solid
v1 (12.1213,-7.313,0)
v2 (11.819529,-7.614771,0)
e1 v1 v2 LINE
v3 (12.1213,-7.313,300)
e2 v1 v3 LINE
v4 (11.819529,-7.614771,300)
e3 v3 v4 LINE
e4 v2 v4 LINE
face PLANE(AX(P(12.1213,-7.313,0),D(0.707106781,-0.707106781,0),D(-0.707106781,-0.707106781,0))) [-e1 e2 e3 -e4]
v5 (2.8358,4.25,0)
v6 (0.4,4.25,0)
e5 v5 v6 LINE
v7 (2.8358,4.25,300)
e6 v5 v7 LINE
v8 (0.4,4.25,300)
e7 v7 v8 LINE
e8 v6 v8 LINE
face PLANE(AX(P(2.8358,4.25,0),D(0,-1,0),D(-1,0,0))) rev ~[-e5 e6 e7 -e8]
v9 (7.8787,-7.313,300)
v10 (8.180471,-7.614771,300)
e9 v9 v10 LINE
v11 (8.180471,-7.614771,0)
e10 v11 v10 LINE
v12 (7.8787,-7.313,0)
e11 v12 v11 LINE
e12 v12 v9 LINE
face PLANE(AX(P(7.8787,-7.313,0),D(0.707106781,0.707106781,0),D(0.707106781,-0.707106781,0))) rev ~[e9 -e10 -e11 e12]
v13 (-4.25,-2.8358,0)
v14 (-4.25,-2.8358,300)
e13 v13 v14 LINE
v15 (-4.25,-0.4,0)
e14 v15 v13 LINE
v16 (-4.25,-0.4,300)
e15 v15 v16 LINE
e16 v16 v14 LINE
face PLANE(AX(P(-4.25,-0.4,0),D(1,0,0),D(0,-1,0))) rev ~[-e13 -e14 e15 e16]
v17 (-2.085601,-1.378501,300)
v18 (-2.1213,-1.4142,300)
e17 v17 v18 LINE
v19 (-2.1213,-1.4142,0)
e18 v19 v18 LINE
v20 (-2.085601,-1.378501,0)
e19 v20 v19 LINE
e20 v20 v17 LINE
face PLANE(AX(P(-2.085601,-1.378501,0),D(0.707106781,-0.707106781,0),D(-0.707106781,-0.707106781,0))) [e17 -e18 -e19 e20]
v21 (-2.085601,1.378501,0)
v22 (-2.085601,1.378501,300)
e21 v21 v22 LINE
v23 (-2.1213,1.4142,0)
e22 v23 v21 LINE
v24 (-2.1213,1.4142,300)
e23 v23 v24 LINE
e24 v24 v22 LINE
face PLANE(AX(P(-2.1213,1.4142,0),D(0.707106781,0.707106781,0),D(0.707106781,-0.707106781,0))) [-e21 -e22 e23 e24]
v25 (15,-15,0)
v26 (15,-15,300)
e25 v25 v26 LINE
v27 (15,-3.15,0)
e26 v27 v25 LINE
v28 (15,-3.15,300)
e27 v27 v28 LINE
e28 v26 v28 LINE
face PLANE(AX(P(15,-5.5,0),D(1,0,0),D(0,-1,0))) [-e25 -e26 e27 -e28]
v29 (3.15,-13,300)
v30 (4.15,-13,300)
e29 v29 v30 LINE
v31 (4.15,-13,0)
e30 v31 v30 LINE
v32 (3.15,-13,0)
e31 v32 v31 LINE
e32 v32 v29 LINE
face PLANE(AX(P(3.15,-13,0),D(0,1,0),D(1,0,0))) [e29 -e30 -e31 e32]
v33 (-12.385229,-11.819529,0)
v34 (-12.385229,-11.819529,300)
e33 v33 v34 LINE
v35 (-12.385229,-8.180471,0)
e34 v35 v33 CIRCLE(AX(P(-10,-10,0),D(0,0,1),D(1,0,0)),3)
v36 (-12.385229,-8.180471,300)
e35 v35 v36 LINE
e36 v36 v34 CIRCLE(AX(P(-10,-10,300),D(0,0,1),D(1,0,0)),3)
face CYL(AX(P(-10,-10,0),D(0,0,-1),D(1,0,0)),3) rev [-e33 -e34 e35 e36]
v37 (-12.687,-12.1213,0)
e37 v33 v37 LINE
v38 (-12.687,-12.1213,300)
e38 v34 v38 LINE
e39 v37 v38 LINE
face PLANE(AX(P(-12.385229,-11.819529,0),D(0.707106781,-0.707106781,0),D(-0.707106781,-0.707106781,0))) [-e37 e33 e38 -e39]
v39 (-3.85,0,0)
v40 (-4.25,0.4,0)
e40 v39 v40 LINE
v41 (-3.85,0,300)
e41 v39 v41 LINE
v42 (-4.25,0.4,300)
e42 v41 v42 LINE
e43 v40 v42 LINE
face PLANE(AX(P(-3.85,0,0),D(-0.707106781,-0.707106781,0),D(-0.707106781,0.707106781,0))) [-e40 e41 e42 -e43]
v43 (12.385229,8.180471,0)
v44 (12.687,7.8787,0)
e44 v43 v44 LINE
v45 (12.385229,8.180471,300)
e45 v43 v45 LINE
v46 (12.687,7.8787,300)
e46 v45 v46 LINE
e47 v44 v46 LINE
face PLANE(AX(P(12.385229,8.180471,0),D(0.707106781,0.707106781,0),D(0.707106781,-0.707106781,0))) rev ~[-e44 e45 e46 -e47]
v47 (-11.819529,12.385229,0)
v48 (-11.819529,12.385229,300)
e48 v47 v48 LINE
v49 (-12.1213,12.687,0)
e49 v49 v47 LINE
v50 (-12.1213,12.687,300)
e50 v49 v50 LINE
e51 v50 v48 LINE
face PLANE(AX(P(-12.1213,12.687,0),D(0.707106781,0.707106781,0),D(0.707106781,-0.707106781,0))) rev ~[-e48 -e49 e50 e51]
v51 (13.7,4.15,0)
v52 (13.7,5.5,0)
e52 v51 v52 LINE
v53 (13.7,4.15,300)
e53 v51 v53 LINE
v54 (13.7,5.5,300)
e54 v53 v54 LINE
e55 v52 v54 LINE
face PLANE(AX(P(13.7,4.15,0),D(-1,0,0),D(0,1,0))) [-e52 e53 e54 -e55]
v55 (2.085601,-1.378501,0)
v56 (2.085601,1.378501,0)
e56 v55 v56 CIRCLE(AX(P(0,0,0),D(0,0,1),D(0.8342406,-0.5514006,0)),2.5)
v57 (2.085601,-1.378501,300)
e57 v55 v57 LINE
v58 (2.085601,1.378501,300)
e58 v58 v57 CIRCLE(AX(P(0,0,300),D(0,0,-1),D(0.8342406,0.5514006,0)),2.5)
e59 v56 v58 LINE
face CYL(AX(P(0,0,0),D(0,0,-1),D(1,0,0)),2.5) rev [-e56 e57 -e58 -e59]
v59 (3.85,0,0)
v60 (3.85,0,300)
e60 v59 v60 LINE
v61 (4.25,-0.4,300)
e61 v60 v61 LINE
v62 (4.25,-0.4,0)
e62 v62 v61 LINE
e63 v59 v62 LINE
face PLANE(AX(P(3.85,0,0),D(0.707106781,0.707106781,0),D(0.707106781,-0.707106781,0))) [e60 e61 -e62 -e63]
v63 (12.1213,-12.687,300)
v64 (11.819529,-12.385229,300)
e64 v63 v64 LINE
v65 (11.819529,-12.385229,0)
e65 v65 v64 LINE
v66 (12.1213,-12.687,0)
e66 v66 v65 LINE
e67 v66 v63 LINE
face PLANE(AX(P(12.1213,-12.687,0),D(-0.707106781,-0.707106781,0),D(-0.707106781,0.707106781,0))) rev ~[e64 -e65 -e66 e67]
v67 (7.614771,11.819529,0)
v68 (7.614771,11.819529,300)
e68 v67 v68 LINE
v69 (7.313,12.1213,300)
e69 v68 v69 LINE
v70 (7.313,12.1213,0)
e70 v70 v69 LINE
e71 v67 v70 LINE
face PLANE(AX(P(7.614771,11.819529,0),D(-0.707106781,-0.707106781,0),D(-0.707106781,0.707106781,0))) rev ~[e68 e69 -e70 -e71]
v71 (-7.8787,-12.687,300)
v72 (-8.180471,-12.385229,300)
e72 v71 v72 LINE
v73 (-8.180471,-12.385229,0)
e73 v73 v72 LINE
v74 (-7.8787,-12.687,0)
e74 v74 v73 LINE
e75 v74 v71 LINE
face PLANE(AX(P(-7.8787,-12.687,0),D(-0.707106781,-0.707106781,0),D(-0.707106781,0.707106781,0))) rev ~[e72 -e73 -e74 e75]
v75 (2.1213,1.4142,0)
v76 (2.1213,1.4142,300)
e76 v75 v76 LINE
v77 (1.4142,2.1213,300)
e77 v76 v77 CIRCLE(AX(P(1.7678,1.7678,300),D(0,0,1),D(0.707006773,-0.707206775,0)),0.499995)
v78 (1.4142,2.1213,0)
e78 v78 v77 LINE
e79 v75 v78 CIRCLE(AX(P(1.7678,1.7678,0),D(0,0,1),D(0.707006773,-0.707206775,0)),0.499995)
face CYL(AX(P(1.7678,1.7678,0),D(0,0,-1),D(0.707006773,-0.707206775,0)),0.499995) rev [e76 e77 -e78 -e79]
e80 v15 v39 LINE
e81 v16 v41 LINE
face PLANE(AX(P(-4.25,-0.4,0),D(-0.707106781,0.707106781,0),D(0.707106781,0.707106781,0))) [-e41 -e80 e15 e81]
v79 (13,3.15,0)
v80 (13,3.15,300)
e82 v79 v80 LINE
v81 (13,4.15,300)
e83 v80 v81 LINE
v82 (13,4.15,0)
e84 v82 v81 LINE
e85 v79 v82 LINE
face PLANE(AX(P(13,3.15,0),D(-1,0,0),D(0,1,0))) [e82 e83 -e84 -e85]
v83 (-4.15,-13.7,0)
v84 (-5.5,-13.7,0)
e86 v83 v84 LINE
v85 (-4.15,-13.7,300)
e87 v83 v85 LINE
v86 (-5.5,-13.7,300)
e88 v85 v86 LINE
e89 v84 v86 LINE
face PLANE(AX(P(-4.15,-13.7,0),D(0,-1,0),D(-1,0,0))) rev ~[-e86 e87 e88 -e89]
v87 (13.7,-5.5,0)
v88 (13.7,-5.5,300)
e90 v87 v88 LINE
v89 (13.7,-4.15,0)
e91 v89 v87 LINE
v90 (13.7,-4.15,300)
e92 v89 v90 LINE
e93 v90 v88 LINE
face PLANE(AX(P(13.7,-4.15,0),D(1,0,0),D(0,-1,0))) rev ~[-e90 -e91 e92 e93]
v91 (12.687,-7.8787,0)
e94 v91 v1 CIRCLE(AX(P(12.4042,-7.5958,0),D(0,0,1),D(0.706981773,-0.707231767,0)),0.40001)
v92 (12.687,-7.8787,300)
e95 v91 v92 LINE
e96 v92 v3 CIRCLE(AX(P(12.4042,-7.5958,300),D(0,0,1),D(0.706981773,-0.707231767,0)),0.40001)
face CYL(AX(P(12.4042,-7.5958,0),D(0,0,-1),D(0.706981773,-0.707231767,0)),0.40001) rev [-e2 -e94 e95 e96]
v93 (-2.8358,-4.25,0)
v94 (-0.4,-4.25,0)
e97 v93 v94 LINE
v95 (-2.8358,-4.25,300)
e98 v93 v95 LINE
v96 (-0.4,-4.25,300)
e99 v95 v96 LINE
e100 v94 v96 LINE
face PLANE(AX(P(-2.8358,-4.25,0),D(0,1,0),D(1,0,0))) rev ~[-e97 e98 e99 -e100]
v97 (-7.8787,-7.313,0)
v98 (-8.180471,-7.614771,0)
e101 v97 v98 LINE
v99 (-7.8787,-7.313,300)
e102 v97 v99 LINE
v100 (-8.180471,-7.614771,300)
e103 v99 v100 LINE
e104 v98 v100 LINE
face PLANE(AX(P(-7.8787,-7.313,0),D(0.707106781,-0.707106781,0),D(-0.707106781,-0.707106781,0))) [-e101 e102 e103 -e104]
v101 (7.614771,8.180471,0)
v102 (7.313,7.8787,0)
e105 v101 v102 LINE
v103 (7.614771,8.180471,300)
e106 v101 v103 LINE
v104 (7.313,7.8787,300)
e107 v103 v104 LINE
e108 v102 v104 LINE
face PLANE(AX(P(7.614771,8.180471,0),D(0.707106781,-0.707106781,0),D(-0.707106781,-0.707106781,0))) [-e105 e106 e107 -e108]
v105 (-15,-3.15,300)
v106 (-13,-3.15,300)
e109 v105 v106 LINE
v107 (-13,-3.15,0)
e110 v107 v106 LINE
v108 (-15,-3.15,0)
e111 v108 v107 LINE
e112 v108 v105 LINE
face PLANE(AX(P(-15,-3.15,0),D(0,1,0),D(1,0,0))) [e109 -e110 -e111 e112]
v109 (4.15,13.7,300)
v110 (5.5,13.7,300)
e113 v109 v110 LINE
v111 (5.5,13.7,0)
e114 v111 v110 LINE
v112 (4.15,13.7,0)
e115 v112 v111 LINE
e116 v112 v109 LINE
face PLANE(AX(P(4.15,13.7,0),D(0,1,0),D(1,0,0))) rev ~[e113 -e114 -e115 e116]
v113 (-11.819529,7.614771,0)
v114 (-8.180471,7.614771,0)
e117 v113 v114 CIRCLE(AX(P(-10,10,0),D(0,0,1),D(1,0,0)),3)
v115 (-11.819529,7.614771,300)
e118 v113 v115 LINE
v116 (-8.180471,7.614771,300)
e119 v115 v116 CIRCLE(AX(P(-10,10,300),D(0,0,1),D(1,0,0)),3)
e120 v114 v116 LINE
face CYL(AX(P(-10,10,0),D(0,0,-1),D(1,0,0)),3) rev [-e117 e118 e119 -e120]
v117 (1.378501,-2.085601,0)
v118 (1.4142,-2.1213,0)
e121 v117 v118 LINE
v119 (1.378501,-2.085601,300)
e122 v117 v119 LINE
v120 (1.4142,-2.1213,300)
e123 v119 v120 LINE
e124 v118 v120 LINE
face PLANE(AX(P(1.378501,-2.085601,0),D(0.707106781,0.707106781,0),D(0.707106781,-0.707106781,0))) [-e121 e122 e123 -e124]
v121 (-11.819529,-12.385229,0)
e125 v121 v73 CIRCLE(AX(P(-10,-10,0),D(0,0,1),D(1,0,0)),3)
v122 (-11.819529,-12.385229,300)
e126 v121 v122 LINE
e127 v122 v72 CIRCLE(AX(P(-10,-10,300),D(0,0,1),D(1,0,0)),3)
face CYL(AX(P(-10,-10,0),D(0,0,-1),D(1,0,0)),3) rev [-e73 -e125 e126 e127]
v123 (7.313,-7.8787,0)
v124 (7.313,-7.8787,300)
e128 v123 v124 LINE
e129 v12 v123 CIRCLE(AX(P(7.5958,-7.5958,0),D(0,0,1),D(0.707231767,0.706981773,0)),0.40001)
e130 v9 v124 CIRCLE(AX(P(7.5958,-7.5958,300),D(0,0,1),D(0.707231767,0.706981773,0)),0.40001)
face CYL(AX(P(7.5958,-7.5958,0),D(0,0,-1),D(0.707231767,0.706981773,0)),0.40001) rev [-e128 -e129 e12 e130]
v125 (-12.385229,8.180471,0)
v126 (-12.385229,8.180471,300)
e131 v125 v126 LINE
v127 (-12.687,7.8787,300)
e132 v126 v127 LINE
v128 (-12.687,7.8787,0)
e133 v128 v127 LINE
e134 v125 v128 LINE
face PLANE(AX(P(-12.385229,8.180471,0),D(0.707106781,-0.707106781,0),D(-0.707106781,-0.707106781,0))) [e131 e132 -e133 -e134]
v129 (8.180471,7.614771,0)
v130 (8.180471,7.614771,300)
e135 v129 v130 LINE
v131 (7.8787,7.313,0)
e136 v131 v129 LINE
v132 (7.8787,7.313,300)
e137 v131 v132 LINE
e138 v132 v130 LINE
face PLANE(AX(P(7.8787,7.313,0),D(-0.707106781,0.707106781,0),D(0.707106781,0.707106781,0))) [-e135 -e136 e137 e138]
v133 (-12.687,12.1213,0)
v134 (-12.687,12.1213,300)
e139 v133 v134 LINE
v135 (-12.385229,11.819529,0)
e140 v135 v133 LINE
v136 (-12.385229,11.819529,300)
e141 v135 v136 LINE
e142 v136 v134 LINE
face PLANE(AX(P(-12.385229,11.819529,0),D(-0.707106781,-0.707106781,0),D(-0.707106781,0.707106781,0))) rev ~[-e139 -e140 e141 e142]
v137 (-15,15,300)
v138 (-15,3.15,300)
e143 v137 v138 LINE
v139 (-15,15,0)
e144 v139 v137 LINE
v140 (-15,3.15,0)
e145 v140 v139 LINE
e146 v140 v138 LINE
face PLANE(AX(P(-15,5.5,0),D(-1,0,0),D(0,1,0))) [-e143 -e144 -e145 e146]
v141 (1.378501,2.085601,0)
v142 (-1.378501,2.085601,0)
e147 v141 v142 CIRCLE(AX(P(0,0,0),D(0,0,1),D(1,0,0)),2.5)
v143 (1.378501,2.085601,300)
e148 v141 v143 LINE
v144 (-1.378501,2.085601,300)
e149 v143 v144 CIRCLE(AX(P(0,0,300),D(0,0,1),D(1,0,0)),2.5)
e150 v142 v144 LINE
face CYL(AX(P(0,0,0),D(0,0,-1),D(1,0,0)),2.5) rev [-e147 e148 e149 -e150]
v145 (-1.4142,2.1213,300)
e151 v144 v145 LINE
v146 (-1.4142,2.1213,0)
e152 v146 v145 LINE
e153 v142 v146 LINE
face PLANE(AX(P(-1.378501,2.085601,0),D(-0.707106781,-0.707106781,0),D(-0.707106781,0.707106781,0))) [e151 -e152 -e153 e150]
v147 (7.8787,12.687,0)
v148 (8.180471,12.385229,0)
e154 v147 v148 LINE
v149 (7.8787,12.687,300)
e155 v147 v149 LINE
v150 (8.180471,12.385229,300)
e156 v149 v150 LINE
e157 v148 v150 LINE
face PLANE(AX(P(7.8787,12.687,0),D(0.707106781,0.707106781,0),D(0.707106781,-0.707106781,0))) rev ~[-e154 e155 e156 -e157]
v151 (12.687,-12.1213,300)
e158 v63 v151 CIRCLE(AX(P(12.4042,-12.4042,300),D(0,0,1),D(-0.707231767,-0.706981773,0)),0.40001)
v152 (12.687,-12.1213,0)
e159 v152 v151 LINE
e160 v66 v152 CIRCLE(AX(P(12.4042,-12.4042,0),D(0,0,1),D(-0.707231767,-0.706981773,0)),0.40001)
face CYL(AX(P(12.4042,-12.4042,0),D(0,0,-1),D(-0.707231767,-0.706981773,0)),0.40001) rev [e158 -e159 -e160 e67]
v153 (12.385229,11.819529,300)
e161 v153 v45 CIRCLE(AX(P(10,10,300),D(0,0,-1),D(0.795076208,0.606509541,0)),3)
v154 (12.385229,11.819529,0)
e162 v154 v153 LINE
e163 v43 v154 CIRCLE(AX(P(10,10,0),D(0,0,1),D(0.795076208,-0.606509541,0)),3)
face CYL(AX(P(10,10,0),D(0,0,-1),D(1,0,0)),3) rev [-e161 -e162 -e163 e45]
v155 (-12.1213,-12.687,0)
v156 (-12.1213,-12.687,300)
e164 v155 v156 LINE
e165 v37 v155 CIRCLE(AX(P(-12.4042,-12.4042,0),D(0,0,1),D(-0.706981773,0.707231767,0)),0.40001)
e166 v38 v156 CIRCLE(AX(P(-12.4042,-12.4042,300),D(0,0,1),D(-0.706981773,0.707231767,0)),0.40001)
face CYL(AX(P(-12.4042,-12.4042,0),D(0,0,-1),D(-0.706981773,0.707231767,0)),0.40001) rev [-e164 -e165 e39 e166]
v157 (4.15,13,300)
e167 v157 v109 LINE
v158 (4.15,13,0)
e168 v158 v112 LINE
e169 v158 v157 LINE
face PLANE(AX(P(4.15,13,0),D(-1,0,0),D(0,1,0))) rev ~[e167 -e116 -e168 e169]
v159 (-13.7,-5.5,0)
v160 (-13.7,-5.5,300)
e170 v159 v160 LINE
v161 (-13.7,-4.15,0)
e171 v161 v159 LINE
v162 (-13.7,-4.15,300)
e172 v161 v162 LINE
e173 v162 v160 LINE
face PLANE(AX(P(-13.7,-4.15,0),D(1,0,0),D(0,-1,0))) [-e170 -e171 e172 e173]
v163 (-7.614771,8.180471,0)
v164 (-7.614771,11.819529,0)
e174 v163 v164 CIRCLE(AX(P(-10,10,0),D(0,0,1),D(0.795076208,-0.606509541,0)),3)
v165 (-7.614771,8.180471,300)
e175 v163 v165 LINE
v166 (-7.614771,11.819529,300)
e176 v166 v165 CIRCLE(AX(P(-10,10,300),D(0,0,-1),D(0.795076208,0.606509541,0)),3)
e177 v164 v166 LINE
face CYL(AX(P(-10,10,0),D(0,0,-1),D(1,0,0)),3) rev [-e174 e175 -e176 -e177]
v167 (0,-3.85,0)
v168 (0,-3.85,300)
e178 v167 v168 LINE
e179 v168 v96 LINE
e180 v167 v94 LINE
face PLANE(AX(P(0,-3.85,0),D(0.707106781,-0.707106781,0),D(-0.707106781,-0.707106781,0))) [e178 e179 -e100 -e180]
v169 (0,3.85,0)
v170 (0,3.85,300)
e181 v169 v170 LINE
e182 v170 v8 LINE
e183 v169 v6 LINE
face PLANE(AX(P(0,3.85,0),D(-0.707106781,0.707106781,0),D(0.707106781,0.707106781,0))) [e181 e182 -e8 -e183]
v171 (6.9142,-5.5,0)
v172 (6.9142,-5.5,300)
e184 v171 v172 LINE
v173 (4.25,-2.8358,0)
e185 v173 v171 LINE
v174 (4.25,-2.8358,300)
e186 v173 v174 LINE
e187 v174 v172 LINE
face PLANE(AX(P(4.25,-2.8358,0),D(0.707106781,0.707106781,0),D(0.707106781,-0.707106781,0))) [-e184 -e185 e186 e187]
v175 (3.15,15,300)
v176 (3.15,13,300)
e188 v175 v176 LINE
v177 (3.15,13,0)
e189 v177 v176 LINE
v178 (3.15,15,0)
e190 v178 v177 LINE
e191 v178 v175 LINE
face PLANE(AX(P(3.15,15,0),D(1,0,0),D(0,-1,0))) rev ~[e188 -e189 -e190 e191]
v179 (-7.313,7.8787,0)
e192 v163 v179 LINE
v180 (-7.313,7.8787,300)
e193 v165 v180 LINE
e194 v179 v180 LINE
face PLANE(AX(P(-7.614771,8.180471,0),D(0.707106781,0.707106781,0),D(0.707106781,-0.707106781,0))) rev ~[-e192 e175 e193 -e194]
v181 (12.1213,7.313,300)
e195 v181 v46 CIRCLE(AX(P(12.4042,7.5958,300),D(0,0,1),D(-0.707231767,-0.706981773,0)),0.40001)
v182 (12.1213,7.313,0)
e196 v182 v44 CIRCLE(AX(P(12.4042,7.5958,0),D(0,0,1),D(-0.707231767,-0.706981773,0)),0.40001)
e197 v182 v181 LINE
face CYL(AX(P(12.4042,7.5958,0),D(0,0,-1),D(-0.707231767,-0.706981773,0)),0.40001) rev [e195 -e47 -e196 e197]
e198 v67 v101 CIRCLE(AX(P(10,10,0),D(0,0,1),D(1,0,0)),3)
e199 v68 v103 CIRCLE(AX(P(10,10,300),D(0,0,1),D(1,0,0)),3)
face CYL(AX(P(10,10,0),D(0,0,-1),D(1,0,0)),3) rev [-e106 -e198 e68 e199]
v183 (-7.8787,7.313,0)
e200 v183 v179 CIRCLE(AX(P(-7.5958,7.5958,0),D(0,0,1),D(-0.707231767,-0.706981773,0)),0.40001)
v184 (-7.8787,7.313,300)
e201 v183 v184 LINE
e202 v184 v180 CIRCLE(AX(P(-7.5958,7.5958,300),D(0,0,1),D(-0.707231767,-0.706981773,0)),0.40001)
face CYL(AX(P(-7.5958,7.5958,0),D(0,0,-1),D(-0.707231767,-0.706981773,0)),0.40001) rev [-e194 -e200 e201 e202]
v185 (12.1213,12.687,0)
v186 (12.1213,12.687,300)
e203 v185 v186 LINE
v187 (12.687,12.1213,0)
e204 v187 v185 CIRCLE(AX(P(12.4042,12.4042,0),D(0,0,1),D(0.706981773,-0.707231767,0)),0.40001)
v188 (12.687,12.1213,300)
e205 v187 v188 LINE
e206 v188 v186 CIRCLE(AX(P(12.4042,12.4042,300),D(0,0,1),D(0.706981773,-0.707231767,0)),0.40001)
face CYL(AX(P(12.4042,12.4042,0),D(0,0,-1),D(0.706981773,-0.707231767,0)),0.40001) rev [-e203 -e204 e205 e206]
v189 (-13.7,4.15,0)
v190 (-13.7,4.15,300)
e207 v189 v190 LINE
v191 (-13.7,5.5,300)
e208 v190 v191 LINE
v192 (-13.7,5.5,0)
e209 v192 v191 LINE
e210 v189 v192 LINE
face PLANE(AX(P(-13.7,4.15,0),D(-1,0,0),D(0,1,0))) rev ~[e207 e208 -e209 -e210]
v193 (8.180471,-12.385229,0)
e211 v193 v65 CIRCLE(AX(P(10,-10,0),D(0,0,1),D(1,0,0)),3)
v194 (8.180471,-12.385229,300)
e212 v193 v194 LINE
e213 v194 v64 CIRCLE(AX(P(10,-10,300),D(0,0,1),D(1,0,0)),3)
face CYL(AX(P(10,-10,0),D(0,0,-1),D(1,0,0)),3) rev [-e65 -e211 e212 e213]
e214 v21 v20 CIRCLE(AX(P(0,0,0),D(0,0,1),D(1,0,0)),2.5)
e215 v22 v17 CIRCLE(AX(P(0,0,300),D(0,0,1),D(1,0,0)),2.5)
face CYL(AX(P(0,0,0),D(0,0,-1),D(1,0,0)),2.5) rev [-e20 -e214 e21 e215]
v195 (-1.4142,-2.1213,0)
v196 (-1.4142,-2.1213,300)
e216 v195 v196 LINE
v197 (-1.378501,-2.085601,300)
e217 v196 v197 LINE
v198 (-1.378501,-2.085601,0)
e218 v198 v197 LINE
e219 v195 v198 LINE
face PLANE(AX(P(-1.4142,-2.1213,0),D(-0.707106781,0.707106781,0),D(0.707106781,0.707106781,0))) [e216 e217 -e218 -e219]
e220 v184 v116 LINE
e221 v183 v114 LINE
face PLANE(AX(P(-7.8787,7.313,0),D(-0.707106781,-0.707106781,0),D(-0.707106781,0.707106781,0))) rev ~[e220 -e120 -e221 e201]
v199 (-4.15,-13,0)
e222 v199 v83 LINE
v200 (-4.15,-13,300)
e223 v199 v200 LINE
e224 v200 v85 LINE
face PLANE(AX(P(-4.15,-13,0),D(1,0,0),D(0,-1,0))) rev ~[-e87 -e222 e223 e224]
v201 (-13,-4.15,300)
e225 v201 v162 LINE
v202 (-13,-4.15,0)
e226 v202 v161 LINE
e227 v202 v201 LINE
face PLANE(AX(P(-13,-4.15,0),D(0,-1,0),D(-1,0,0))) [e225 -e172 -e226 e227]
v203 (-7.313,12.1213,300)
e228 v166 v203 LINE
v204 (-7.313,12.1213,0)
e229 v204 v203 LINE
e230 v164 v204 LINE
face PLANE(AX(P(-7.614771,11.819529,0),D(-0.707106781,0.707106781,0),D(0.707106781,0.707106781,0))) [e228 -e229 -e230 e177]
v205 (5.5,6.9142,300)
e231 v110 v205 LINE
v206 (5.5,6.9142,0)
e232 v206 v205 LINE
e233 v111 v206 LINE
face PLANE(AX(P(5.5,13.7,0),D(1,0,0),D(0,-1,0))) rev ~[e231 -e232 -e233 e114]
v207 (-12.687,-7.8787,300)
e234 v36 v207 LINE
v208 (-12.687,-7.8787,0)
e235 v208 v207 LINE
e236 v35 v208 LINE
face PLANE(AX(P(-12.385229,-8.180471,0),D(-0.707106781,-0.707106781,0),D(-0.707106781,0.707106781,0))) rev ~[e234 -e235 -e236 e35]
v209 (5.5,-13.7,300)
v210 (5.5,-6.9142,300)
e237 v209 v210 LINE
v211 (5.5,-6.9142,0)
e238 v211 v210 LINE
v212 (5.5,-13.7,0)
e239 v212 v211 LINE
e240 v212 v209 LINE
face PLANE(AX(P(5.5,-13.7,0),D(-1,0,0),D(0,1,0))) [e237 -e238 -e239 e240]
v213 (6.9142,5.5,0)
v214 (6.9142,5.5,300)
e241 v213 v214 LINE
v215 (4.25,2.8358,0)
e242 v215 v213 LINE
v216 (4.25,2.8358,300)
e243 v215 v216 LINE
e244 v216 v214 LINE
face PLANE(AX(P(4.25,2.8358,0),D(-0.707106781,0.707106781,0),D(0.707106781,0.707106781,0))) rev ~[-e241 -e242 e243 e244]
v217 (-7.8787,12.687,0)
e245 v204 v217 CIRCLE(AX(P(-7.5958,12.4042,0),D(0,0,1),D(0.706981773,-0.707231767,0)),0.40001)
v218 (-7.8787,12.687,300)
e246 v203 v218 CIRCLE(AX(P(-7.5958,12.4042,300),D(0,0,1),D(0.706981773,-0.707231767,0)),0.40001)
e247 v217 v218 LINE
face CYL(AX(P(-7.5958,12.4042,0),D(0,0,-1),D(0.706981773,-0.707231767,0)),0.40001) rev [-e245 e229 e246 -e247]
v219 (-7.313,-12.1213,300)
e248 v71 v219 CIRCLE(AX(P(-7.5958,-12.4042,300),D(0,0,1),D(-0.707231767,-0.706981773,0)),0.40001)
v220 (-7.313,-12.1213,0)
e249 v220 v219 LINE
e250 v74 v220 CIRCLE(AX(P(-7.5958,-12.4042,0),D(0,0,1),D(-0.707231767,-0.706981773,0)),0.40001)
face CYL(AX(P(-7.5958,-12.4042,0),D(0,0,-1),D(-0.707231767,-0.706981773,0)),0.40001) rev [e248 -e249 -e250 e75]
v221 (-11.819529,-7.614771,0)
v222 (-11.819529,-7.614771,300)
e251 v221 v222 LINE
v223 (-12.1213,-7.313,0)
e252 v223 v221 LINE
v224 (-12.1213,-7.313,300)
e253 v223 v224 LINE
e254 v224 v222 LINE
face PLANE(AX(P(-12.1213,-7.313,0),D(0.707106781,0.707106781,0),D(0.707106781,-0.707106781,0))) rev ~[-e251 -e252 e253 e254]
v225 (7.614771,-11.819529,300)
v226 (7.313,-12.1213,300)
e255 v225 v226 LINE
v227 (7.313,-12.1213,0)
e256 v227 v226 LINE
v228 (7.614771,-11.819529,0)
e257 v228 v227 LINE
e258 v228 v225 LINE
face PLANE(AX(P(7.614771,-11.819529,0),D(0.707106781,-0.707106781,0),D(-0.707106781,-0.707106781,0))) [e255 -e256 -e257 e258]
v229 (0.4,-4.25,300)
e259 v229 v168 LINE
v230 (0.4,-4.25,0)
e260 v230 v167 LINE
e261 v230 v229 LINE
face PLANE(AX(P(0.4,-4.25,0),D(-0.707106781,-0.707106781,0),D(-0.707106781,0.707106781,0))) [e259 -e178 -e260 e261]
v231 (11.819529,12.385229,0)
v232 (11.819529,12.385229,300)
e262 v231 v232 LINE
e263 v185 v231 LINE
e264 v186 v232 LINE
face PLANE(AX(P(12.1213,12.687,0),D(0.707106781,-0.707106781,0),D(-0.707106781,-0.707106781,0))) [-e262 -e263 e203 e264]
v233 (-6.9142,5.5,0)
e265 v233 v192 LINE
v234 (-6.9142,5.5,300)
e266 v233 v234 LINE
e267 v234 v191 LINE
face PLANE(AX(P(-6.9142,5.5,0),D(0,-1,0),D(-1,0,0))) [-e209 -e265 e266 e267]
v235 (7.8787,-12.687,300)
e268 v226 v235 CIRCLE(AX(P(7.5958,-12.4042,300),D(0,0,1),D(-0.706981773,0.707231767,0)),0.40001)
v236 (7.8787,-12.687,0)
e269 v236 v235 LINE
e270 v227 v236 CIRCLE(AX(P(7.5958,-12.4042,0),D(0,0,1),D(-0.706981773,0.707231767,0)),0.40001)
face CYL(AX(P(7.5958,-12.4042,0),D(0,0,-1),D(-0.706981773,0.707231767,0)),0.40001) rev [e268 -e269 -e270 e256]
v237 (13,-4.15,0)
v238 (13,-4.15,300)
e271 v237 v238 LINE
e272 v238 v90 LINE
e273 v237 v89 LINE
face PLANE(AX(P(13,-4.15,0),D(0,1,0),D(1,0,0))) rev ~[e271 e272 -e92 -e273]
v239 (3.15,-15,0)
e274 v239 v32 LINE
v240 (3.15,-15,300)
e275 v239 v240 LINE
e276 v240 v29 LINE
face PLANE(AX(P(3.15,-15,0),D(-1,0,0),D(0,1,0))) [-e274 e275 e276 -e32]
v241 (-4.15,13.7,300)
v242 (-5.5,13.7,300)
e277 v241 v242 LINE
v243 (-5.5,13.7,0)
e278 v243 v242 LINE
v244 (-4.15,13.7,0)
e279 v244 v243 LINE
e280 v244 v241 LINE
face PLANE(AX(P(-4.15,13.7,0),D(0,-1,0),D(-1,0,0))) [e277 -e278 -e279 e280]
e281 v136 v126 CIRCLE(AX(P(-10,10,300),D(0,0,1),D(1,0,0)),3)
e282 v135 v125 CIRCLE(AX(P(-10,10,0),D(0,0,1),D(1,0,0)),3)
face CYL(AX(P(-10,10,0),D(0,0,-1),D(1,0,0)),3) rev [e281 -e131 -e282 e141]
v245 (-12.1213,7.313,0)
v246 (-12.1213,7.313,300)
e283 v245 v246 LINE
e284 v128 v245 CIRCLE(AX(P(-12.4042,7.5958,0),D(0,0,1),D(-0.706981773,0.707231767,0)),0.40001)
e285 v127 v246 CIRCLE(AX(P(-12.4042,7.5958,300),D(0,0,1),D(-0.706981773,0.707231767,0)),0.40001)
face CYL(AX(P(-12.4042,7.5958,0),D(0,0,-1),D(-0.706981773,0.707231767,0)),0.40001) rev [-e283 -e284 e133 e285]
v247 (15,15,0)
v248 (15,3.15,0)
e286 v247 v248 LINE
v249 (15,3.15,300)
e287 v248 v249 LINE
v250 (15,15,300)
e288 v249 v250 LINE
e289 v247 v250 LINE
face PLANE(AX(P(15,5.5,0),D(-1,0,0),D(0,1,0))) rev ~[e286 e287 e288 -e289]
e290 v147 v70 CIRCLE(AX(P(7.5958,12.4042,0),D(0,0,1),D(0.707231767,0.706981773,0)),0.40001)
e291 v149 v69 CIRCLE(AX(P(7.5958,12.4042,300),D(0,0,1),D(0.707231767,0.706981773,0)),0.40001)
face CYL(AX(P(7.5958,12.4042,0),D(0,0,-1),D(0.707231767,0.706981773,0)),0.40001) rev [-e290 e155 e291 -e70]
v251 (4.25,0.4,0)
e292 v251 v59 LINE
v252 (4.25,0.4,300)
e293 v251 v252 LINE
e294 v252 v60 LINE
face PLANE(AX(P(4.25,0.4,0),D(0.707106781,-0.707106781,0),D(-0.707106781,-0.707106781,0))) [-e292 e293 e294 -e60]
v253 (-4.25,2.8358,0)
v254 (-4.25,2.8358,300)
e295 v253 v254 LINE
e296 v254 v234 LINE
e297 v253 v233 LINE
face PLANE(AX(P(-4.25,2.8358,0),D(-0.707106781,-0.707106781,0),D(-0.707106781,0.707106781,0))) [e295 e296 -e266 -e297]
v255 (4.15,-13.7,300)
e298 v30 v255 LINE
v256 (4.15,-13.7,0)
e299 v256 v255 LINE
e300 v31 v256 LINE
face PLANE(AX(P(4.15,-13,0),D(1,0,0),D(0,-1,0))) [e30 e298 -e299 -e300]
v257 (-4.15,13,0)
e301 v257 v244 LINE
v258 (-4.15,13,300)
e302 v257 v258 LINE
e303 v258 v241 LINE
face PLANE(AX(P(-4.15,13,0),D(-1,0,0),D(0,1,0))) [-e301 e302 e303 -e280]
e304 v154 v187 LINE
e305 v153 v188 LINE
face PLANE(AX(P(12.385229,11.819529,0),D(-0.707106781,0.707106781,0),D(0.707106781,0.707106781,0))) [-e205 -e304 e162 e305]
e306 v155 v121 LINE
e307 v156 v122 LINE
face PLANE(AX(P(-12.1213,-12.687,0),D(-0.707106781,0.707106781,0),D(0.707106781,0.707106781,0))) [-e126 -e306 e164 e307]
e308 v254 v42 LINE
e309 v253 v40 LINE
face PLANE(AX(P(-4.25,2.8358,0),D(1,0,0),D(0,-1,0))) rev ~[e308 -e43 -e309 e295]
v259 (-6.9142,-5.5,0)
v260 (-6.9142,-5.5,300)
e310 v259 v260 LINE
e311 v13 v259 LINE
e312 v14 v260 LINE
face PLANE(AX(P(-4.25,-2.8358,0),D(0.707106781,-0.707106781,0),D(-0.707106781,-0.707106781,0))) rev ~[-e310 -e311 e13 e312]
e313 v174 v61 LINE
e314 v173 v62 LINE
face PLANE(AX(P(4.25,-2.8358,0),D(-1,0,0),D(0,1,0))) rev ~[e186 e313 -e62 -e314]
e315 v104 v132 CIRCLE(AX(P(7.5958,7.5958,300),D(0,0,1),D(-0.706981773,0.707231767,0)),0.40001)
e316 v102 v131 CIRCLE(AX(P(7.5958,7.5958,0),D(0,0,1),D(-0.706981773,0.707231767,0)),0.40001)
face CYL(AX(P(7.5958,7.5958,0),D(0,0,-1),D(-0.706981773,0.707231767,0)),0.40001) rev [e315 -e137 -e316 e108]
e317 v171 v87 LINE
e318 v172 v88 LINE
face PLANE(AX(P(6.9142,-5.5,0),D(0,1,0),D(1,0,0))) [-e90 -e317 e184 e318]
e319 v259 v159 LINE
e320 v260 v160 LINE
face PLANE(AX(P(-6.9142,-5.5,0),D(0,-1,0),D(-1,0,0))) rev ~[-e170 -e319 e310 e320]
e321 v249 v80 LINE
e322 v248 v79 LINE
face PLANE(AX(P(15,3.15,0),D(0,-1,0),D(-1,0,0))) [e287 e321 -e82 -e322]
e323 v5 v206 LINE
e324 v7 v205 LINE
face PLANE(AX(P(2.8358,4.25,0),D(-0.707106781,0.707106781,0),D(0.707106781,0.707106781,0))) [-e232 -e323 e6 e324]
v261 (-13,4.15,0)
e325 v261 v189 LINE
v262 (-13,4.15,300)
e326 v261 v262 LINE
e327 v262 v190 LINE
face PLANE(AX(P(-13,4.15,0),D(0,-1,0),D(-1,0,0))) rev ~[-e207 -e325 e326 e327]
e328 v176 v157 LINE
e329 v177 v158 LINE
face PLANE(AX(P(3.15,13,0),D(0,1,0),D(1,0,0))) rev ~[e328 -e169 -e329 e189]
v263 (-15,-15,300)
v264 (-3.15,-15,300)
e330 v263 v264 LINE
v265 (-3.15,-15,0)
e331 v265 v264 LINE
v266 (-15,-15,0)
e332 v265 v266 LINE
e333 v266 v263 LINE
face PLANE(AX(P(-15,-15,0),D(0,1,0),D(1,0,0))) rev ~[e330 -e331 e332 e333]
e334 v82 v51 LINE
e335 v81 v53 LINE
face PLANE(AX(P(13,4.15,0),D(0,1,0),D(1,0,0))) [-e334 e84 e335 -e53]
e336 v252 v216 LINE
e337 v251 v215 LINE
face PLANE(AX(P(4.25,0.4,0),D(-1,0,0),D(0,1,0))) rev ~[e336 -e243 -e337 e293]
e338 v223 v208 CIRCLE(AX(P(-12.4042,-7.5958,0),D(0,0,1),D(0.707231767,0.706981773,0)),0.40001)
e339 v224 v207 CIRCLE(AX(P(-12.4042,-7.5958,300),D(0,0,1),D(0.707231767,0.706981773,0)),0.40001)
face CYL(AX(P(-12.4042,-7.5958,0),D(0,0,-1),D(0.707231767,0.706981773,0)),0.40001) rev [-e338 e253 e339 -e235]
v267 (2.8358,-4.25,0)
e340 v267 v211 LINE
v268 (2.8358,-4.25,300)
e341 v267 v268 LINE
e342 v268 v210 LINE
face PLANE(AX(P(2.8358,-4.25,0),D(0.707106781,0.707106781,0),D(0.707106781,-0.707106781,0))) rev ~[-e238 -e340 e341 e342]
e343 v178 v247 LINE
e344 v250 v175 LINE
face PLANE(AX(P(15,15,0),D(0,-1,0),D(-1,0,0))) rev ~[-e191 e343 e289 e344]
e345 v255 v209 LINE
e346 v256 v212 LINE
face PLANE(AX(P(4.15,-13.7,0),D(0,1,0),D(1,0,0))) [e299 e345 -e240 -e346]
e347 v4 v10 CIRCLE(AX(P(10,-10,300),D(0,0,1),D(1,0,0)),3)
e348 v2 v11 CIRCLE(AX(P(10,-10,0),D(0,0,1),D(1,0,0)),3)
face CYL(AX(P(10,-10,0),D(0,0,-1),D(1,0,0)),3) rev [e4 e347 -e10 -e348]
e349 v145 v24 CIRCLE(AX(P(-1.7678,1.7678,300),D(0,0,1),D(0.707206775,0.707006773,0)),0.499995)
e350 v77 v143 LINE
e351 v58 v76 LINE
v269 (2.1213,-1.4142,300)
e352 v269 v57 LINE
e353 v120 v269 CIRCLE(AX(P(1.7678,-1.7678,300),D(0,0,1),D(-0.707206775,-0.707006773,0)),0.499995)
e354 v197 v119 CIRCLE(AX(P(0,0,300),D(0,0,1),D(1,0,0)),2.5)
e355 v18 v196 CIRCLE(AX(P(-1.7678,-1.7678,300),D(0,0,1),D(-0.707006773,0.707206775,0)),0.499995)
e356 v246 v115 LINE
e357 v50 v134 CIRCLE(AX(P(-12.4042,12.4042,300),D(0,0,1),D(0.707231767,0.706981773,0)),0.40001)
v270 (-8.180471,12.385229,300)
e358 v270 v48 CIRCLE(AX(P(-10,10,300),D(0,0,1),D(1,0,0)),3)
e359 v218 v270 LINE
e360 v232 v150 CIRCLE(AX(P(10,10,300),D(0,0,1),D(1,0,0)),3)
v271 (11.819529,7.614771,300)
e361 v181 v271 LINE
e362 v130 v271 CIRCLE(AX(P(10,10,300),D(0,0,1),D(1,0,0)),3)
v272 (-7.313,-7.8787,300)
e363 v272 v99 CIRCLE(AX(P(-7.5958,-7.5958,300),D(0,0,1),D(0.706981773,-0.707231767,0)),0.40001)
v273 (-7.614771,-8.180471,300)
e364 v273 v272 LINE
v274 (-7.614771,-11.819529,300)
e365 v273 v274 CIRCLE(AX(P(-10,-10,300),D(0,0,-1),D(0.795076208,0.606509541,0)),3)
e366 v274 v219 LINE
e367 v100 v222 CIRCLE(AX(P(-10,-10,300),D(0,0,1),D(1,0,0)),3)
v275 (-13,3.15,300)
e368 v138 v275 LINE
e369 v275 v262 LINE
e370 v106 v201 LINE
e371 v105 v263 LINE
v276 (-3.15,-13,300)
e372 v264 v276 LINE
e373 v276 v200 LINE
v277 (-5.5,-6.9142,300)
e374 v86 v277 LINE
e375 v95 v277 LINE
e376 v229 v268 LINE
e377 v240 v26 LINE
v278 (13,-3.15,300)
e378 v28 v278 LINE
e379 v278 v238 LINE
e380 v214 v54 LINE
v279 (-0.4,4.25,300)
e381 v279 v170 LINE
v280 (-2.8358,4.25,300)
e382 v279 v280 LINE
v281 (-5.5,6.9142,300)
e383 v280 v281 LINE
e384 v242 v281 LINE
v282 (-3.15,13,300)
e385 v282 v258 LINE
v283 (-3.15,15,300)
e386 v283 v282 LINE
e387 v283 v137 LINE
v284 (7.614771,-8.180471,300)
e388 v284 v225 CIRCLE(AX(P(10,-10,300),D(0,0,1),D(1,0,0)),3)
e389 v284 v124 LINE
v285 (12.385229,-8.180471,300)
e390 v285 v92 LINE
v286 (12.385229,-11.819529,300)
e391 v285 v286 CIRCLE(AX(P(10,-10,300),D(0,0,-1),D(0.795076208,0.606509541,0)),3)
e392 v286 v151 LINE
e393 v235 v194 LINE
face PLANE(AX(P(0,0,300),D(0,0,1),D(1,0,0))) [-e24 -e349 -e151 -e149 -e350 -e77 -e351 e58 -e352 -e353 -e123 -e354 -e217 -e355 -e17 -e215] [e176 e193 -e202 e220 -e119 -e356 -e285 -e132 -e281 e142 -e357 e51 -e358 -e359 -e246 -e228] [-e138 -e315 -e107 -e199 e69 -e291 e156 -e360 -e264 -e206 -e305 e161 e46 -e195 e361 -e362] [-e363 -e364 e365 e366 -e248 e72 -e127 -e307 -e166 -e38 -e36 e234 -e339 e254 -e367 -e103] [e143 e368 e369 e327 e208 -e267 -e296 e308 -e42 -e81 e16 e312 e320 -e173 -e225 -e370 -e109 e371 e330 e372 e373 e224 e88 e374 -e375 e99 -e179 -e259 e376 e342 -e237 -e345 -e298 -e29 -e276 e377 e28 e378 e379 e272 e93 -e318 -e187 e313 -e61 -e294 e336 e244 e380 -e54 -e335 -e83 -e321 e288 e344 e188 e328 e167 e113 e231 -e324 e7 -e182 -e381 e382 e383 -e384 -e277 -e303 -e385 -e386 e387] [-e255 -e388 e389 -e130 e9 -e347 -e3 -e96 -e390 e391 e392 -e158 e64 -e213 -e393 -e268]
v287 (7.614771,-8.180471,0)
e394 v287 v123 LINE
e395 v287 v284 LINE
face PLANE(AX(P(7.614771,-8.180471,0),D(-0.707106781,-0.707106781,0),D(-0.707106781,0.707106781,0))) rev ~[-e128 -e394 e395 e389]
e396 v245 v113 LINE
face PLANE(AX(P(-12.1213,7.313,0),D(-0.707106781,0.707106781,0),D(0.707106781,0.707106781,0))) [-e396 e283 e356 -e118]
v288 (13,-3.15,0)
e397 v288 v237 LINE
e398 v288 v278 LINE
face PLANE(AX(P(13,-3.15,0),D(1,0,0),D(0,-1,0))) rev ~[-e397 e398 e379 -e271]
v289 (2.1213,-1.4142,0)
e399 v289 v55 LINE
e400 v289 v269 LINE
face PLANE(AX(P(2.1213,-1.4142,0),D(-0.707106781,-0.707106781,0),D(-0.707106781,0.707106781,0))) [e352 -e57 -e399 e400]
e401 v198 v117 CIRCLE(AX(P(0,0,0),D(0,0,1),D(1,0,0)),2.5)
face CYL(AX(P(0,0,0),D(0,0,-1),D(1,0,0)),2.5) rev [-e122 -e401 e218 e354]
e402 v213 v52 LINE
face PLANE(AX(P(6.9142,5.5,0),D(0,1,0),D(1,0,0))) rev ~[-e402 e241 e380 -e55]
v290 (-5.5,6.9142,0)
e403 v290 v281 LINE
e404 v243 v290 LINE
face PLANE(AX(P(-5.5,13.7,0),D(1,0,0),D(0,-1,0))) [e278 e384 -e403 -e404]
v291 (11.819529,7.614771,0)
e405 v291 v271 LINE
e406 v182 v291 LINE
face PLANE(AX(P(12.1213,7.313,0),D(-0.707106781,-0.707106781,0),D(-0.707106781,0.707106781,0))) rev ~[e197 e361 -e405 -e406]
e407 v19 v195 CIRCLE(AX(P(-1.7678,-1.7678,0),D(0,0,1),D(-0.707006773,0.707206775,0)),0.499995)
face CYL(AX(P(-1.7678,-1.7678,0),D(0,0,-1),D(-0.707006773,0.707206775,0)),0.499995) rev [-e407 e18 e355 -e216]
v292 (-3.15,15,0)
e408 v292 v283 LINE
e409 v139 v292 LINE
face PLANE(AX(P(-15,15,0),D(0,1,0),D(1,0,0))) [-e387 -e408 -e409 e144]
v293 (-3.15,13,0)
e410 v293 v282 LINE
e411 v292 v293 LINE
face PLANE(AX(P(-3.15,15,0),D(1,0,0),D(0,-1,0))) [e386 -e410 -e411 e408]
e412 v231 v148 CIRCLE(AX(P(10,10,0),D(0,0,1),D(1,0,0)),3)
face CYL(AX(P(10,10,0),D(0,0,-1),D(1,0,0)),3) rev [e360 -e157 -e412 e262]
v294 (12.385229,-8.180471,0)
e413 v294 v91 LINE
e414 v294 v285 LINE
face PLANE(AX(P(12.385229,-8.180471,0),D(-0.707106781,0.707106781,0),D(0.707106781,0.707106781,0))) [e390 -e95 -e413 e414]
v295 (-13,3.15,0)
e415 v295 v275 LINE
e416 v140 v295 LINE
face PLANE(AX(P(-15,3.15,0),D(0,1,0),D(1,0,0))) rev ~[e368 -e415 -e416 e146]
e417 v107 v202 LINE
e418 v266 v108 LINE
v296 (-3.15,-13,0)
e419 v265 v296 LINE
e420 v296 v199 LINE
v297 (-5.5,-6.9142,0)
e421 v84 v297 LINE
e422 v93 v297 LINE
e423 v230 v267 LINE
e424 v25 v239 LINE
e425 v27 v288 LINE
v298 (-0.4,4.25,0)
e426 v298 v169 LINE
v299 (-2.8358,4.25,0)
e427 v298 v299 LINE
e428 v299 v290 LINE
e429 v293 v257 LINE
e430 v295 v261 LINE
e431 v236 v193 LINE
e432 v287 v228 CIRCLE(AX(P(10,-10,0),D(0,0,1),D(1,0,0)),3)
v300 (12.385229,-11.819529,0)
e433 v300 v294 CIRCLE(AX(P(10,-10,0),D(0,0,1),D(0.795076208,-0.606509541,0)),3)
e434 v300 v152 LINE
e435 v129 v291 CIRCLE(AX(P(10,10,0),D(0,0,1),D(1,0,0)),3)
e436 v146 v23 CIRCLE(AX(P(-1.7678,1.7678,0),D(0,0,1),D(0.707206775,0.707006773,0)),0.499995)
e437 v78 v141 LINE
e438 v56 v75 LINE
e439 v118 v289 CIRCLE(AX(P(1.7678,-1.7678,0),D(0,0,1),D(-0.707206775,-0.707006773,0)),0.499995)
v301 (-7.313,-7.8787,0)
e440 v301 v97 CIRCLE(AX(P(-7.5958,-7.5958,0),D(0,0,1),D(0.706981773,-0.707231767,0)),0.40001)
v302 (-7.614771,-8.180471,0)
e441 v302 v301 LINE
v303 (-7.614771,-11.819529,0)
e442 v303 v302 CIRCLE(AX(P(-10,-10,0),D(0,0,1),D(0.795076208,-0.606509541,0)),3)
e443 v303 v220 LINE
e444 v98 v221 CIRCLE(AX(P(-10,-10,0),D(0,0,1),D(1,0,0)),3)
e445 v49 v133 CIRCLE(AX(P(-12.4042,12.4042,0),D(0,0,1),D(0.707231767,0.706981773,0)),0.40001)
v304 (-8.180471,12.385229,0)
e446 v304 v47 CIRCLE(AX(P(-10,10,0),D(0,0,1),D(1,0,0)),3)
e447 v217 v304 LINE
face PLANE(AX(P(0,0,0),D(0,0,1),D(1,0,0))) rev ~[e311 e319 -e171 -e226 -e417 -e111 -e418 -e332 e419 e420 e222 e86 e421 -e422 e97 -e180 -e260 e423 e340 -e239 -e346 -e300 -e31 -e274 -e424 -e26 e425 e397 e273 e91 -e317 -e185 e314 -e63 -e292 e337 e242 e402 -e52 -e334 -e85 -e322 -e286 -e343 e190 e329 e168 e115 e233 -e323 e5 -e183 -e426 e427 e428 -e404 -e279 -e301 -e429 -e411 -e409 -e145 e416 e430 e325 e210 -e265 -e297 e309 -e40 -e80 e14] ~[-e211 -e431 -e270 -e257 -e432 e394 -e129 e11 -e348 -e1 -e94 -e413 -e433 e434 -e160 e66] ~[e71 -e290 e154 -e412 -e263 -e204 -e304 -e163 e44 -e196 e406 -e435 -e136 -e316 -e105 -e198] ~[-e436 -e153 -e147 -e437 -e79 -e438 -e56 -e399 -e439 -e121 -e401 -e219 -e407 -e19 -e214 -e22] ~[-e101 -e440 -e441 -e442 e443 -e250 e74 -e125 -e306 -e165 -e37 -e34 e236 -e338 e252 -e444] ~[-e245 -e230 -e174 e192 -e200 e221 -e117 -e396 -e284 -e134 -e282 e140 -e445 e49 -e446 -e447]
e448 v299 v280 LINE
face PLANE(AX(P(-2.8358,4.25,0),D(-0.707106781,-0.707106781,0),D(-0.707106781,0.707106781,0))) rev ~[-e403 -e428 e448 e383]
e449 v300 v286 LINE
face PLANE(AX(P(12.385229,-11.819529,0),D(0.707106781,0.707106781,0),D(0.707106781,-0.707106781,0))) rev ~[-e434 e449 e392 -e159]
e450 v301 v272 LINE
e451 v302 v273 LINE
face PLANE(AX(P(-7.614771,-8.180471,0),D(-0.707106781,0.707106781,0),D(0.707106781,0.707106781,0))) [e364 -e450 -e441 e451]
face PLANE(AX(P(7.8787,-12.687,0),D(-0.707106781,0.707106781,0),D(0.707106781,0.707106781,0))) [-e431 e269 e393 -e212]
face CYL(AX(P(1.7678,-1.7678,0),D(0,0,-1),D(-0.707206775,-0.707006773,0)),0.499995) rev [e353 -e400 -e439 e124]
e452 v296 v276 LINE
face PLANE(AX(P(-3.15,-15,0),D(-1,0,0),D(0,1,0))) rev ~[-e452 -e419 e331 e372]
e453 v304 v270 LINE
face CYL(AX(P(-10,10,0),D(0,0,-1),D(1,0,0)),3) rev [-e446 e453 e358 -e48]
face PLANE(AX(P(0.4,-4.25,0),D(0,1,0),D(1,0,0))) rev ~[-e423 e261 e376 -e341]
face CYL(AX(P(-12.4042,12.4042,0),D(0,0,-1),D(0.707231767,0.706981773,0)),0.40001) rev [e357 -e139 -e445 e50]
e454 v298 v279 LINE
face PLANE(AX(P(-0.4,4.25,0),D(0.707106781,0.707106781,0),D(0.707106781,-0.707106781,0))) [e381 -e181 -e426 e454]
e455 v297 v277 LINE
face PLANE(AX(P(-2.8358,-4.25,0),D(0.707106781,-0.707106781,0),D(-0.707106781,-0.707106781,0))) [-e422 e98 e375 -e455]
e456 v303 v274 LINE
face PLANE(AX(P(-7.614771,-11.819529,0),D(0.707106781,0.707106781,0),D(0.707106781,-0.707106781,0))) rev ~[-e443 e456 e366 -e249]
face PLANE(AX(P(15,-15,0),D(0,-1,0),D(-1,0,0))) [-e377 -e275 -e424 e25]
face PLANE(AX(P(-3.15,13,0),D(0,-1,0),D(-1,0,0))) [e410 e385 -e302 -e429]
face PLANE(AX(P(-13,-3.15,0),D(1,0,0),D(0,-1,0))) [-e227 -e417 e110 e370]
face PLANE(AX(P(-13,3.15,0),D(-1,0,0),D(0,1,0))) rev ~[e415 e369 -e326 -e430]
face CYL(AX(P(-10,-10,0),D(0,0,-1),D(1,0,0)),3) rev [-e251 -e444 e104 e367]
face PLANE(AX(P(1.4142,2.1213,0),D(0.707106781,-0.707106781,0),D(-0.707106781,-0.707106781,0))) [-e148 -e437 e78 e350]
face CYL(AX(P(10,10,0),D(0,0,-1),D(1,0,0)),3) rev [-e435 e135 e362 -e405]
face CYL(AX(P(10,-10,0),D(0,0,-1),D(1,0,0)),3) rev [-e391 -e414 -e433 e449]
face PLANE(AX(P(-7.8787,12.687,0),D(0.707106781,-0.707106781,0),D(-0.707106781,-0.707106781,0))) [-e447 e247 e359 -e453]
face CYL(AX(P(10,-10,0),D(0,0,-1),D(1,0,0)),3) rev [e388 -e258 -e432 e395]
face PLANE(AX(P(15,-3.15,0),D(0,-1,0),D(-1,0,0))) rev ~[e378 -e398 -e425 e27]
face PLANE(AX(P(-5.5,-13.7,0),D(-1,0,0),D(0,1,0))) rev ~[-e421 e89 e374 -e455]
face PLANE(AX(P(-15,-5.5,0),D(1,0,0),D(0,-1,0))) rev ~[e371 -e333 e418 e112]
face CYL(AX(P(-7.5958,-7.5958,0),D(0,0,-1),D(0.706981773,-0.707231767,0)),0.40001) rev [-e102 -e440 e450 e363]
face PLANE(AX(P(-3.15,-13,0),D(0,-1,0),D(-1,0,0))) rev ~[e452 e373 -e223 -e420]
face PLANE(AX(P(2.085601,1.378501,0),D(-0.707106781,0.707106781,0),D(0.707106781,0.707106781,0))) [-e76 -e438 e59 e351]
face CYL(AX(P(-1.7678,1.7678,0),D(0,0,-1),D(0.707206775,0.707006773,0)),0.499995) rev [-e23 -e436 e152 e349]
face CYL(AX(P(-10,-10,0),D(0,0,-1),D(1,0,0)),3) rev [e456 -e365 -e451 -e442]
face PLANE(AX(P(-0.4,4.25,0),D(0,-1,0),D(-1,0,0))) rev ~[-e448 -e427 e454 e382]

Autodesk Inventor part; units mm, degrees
ref_plane "RIGHT" through (0, 0, 0) normal (1, 0, 0) x (0, 1, 0)
ref_plane "TOP" through (0, 0, 0) normal (0, 1, 0) x (-1, 0, 0)
ref_plane "FRONT" through (0, 0, 0) normal (0, 0, 1) x (1, 0, 0)
sketch "Sketch2" plane through (0, 0, 0) normal (0, 0, 1) x (1, 0, 0)
  circle A0 centre (0, 0) radius 2.5
  circle A1 centre (10, 10) radius 3
  line L0 (-4.25, -4.25) -> (4.25, -4.25)
  line L1 (4.25, -4.25) -> (4.25, 4.25)
  line L2 (4.25, 4.25) -> (-4.25, 4.25)
  line L3 (-4.25, 4.25) -> (-4.25, -4.25)
  line L4 (-4.25, -4.25) -> (4.25, 4.25) construction
  line L5 (4.25, -4.25) -> (-4.25, 4.25) construction
  line L6 (15, 5) -> (15, 15)
  line L7 (15, 15) -> (5, 15)
  line L8 (5, 5) -> (15, 15) construction
  line L9 (15, 5) -> (5, 15) construction
  line L10 (5, 15) -> (3.15, 15)
  line L11 (3.15, 15) -> (3.15, 13)
  line L12 (3.15, 13) -> (4.15, 13)
  line L13 (4.15, 13) -> (4.15, 13.7)
  line L14 (4.15, 13.7) -> (5.5, 13.7)
  line L15 (0, 0) -> (10, 10) construction
  line L16 (5.5, 15) -> (5.5, 5.5)
  line L17 (5.5, 5.5) -> (15, 5.5)
  line L18 (2.8358, 4.25) -> (5.5, 6.9142)
  line L19 (12.4042, 7.5958) -> (7.5958, 12.4042) construction
  line L20 (12.1213, 7.313) -> (7.313, 12.1213)
  line L21 (7.8787, 12.687) -> (12.687, 7.8787)
  arc A2 (12.1213, 7.313) -> (12.687, 7.8787) centre (12.4042, 7.5958) ccw
  arc A3 (7.8787, 12.687) -> (7.313, 12.1213) centre (7.5958, 12.4042) ccw
  line L22 (-0.4, 4.25) -> (0, 3.85)
  line L23 (0, 3.85) -> (0.4, 4.25)
  line L24 (0, 4.25) -> (0, -4.25) construction
  line L25 (7.5958, 7.5958) -> (12.4042, 12.4042) construction
  line L26 (7.8787, 7.313) -> (12.687, 12.1213)
  line L27 (12.1213, 12.687) -> (7.313, 7.8787)
  arc A4 (7.313, 7.8787) -> (7.8787, 7.313) centre (7.5958, 7.5958) ccw
  arc A5 (12.687, 12.1213) -> (12.1213, 12.687) centre (12.4042, 12.4042) ccw
  line L28 (15, 5) -> (15, 3.15)
  line L29 (15, 3.15) -> (13, 3.15)
  line L30 (13, 3.15) -> (13, 4.15)
  line L31 (13, 4.15) -> (13.7, 4.15)
  line L32 (13.7, 4.15) -> (13.7, 5.5)
  line L33 (4.25, 2.8358) -> (6.9142, 5.5)
  line L34 (-1.7678, -1.7678) -> (1.7678, 1.7678) construction
  line L35 (-1.4142, -2.1213) -> (2.1213, 1.4142)
  line L36 (1.4142, 2.1213) -> (-2.1213, -1.4142)
  arc A6 (-2.1213, -1.4142) -> (-1.4142, -2.1213) centre (-1.7678, -1.7678) ccw
  arc A7 (2.1213, 1.4142) -> (1.4142, 2.1213) centre (1.7678, 1.7678) ccw
  line L37 (1.7678, -1.7678) -> (-1.7678, 1.7678) construction
  line L38 (2.1213, -1.4142) -> (-1.4142, 2.1213)
  line L39 (-2.1213, 1.4142) -> (1.4142, -2.1213)
  arc A8 (1.4142, -2.1213) -> (2.1213, -1.4142) centre (1.7678, -1.7678) ccw
  arc A9 (-1.4142, 2.1213) -> (-2.1213, 1.4142) centre (-1.7678, 1.7678) ccw
  line L40 (-4.25, 0) -> (4.25, 0) construction
  circle A10 centre (10, -10) radius 3
  line L41 (15, -5) -> (15, -15)
  line L42 (15, -15) -> (5, -15)
  line L43 (5, -5) -> (15, -15) construction
  line L44 (15, -5) -> (5, -15) construction
  line L45 (5, -15) -> (3.15, -15)
  line L46 (3.15, -15) -> (3.15, -13)
  line L47 (3.15, -13) -> (4.15, -13)
  line L48 (4.15, -13) -> (4.15, -13.7)
  line L49 (4.15, -13.7) -> (5.5, -13.7)
  line L50 (0, 0) -> (10, -10) construction
  line L51 (5.5, -15) -> (5.5, -5.5)
  line L52 (5.5, -5.5) -> (15, -5.5)
  line L53 (2.8358, -4.25) -> (5.5, -6.9142)
  line L54 (12.4042, -7.5958) -> (7.5958, -12.4042) construction
  line L55 (12.1213, -7.313) -> (7.313, -12.1213)
  line L56 (7.8787, -12.687) -> (12.687, -7.8787)
  arc A11 (12.687, -7.8787) -> (12.1213, -7.313) centre (12.4042, -7.5958) ccw
  arc A12 (7.313, -12.1213) -> (7.8787, -12.687) centre (7.5958, -12.4042) ccw
  line L57 (7.5958, -7.5958) -> (12.4042, -12.4042) construction
  line L58 (7.8787, -7.313) -> (12.687, -12.1213)
  line L59 (12.1213, -12.687) -> (7.313, -7.8787)
  arc A13 (7.8787, -7.313) -> (7.313, -7.8787) centre (7.5958, -7.5958) ccw
  arc A14 (12.1213, -12.687) -> (12.687, -12.1213) centre (12.4042, -12.4042) ccw
  line L60 (13.7, -4.15) -> (13.7, -5.5)
  line L61 (15, -5) -> (15, -3.15)
  line L62 (15, -3.15) -> (13, -3.15)
  line L63 (13, -4.15) -> (13.7, -4.15)
  line L64 (13, -3.15) -> (13, -4.15)
  line L65 (4.25, -2.8358) -> (6.9142, -5.5)
  circle A15 centre (-10, 10) radius 3
  line L66 (-15, 5) -> (-15, 15)
  line L67 (-15, 15) -> (-5, 15)
  line L68 (-5, 5) -> (-15, 15) construction
  line L69 (-15, 5) -> (-5, 15) construction
  line L70 (-5, 15) -> (-3.15, 15)
  line L71 (-3.15, 15) -> (-3.15, 13)
  line L72 (-3.15, 13) -> (-4.15, 13)
  line L73 (-4.15, 13) -> (-4.15, 13.7)
  line L74 (-4.15, 13.7) -> (-5.5, 13.7)
  line L75 (0, 0) -> (-10, 10) construction
  line L76 (-5.5, 15) -> (-5.5, 5.5)
  line L77 (-5.5, 5.5) -> (-15, 5.5)
  line L78 (-2.8358, 4.25) -> (-5.5, 6.9142)
  line L79 (-12.4042, 7.5958) -> (-7.5958, 12.4042) construction
  line L80 (-12.1213, 7.313) -> (-7.313, 12.1213)
  line L81 (-7.8787, 12.687) -> (-12.687, 7.8787)
  arc A16 (-12.687, 7.8787) -> (-12.1213, 7.313) centre (-12.4042, 7.5958) ccw
  arc A17 (-7.313, 12.1213) -> (-7.8787, 12.687) centre (-7.5958, 12.4042) ccw
  line L82 (-7.5958, 7.5958) -> (-12.4042, 12.4042) construction
  line L83 (-7.8787, 7.313) -> (-12.687, 12.1213)
  line L84 (-12.1213, 12.687) -> (-7.313, 7.8787)
  arc A18 (-7.8787, 7.313) -> (-7.313, 7.8787) centre (-7.5958, 7.5958) ccw
  arc A19 (-12.1213, 12.687) -> (-12.687, 12.1213) centre (-12.4042, 12.4042) ccw
  line L85 (-13.7, 4.15) -> (-13.7, 5.5)
  line L86 (-15, 5) -> (-15, 3.15)
  line L87 (-15, 3.15) -> (-13, 3.15)
  line L88 (-13, 4.15) -> (-13.7, 4.15)
  line L89 (-13, 3.15) -> (-13, 4.15)
  line L90 (-4.25, 2.8358) -> (-6.9142, 5.5)
  arc A20 (-12.687, -12.1213) -> (-12.1213, -12.687) centre (-12.4042, -12.4042) ccw
  arc A21 (-7.8787, -12.687) -> (-7.313, -12.1213) centre (-7.5958, -12.4042) ccw
  arc A22 (-12.1213, -7.313) -> (-12.687, -7.8787) centre (-12.4042, -7.5958) ccw
  line L91 (-12.1213, -12.687) -> (-7.313, -7.8787)
  line L92 (-7.8787, -12.687) -> (-12.687, -7.8787)
  line L93 (-7.5958, -7.5958) -> (-12.4042, -12.4042) construction
  line L94 (-12.4042, -7.5958) -> (-7.5958, -12.4042) construction
  line L95 (-7.8787, -7.313) -> (-12.687, -12.1213)
  line L96 (-12.1213, -7.313) -> (-7.313, -12.1213)
  circle A23 centre (-10, -10) radius 3
  line L97 (-15, -15) -> (-5, -15)
  line L98 (-15, -5) -> (-15, -15)
  line L99 (-5.5, -15) -> (-5.5, -5.5)
  line L100 (-5.5, -5.5) -> (-15, -5.5)
  line L101 (-15, -5) -> (-5, -15) construction
  line L102 (-5, -5) -> (-15, -15) construction
  arc A24 (-7.313, -7.8787) -> (-7.8787, -7.313) centre (-7.5958, -7.5958) ccw
  line L103 (-5, -15) -> (-3.15, -15)
  line L104 (-3.15, -15) -> (-3.15, -13)
  line L105 (-4.15, -13) -> (-4.15, -13.7)
  line L106 (-4.15, -13.7) -> (-5.5, -13.7)
  line L107 (-3.15, -13) -> (-4.15, -13)
  line L108 (0, 0) -> (-10, -10) construction
  line L109 (-2.8358, -4.25) -> (-5.5, -6.9142)
  line L110 (-4.25, -2.8358) -> (-6.9142, -5.5)
  line L111 (-13.7, -4.15) -> (-13.7, -5.5)
  line L112 (-15, -5) -> (-15, -3.15)
  line L113 (-13, -3.15) -> (-13, -4.15)
  line L114 (-15, -3.15) -> (-13, -3.15)
  line L115 (-13, -4.15) -> (-13.7, -4.15)
  line L116 (-3.85, 0) -> (-4.25, 0.4)
  line L117 (-4.25, -0.4) -> (-3.85, 0)
  line L118 (0, -3.85) -> (-0.4, -4.25)
  line L119 (0.4, -4.25) -> (0, -3.85)
  line L120 (3.85, 0) -> (4.25, -0.4)
  line L121 (4.25, 0.4) -> (3.85, 0)
  point P0 (-7.6148, -8.1805)
  point P1 (-7.6148, -11.8195)
  point P2 (-8.1805, -12.3852)
  point P3 (-11.8195, -12.3852)
  point P4 (-12.3852, -11.8195)
  point P5 (-12.3852, -8.1805)
  point P6 (-11.8195, -7.6148)
  point P7 (-8.1805, -7.6148)
  point P8 (-7.6148, 11.8195)
  point P9 (-7.6148, 8.1805)
  point P10 (-8.1805, 7.6148)
  point P11 (-11.8195, 7.6148)
  point P12 (-12.3852, 8.1805)
  point P13 (-12.3852, 11.8195)
  point P14 (-11.8195, 12.3852)
  point P15 (-8.1805, 12.3852)
  point P16 (11.8195, -12.3852)
  point P17 (8.1805, -12.3852)
  point P18 (7.6148, -11.8195)
  point P19 (7.6148, -8.1805)
  point P20 (8.1805, -7.6148)
  point P21 (11.8195, -7.6148)
  point P22 (12.3852, -8.1805)
  point P23 (12.3852, -11.8195)
  point P24 (-2.0856, -1.3785)
  point P25 (-2.0856, 1.3785)
  point P26 (-1.3785, 2.0856)
  point P27 (1.3785, 2.0856)
  point P28 (2.0856, 1.3785)
  point P29 (2.0856, -1.3785)
  point P30 (1.3785, -2.0856)
  point P31 (-1.3785, -2.0856)
  point P32 (11.8195, 7.6148)
  point P33 (8.1805, 7.6148)
  point P34 (7.6148, 8.1805)
  point P35 (7.6148, 11.8195)
  point P36 (8.1805, 12.3852)
  point P37 (11.8195, 12.3852)
  point P38 (12.3852, 11.8195)
  point P39 (12.3852, 8.1805)
  dimension "d15" = 5
  dimension "d16" = 6
  dimension "d17" = 10
  dimension "d18" = 10
  dimension "d19" = 8.5
  dimension "d21" = 3.15
  dimension "d22" = 1
  dimension "d23" = 2
  dimension "d24" = 1.3
  dimension "d25" = 5
  dimension "d26" = 4.5
  dimension "d27" = 1
  dimension "d28" = 0.8
  dimension "d29" = 3.4
  dimension "d30" = 0.8
  dimension "d31" = 0.8
  dimension "d32" = 3.4
  dimension "d33" = 1
  dimension "d34" = 1
  dimension "d37" = 360
extrude "Extrusion2" add sketch "Sketch2" along normal blind 300 contours L3 L117 L116 L2 L22 L23 L1 L121 L120 L0 L119 L118 | L0 L109 L99 L100 L110 L3 | L99 L97 L98 L100 | L106 L105 L107 L104 L103 L97 L99 | L100 L98 L112 L114 L113 L115 L111 | L0 L1 L65 L52 L51 L53 | L90 L77 L76 L78 L2 L3 | L51 L52 L41 L42 | L77 L66 L67 L76 | L51 L42 L45 L46 L47 L48 L49 | L85 L88 L89 L87 L86 L66 L77 | L60 L63 L64 L62 L61 L41 L52 | L76 L67 L70 L71 L72 L73 L74 | L1 L2 L18 L16 L17 L33 | L17 L16 L7 L6 | L17 L6 L28 L29 L30 L31 L32 | L14 L13 L12 L11 L10 L7 L16
properties part number "3030 Aluminium Profile 300mm" material "Aluminum 6061-AHC"
